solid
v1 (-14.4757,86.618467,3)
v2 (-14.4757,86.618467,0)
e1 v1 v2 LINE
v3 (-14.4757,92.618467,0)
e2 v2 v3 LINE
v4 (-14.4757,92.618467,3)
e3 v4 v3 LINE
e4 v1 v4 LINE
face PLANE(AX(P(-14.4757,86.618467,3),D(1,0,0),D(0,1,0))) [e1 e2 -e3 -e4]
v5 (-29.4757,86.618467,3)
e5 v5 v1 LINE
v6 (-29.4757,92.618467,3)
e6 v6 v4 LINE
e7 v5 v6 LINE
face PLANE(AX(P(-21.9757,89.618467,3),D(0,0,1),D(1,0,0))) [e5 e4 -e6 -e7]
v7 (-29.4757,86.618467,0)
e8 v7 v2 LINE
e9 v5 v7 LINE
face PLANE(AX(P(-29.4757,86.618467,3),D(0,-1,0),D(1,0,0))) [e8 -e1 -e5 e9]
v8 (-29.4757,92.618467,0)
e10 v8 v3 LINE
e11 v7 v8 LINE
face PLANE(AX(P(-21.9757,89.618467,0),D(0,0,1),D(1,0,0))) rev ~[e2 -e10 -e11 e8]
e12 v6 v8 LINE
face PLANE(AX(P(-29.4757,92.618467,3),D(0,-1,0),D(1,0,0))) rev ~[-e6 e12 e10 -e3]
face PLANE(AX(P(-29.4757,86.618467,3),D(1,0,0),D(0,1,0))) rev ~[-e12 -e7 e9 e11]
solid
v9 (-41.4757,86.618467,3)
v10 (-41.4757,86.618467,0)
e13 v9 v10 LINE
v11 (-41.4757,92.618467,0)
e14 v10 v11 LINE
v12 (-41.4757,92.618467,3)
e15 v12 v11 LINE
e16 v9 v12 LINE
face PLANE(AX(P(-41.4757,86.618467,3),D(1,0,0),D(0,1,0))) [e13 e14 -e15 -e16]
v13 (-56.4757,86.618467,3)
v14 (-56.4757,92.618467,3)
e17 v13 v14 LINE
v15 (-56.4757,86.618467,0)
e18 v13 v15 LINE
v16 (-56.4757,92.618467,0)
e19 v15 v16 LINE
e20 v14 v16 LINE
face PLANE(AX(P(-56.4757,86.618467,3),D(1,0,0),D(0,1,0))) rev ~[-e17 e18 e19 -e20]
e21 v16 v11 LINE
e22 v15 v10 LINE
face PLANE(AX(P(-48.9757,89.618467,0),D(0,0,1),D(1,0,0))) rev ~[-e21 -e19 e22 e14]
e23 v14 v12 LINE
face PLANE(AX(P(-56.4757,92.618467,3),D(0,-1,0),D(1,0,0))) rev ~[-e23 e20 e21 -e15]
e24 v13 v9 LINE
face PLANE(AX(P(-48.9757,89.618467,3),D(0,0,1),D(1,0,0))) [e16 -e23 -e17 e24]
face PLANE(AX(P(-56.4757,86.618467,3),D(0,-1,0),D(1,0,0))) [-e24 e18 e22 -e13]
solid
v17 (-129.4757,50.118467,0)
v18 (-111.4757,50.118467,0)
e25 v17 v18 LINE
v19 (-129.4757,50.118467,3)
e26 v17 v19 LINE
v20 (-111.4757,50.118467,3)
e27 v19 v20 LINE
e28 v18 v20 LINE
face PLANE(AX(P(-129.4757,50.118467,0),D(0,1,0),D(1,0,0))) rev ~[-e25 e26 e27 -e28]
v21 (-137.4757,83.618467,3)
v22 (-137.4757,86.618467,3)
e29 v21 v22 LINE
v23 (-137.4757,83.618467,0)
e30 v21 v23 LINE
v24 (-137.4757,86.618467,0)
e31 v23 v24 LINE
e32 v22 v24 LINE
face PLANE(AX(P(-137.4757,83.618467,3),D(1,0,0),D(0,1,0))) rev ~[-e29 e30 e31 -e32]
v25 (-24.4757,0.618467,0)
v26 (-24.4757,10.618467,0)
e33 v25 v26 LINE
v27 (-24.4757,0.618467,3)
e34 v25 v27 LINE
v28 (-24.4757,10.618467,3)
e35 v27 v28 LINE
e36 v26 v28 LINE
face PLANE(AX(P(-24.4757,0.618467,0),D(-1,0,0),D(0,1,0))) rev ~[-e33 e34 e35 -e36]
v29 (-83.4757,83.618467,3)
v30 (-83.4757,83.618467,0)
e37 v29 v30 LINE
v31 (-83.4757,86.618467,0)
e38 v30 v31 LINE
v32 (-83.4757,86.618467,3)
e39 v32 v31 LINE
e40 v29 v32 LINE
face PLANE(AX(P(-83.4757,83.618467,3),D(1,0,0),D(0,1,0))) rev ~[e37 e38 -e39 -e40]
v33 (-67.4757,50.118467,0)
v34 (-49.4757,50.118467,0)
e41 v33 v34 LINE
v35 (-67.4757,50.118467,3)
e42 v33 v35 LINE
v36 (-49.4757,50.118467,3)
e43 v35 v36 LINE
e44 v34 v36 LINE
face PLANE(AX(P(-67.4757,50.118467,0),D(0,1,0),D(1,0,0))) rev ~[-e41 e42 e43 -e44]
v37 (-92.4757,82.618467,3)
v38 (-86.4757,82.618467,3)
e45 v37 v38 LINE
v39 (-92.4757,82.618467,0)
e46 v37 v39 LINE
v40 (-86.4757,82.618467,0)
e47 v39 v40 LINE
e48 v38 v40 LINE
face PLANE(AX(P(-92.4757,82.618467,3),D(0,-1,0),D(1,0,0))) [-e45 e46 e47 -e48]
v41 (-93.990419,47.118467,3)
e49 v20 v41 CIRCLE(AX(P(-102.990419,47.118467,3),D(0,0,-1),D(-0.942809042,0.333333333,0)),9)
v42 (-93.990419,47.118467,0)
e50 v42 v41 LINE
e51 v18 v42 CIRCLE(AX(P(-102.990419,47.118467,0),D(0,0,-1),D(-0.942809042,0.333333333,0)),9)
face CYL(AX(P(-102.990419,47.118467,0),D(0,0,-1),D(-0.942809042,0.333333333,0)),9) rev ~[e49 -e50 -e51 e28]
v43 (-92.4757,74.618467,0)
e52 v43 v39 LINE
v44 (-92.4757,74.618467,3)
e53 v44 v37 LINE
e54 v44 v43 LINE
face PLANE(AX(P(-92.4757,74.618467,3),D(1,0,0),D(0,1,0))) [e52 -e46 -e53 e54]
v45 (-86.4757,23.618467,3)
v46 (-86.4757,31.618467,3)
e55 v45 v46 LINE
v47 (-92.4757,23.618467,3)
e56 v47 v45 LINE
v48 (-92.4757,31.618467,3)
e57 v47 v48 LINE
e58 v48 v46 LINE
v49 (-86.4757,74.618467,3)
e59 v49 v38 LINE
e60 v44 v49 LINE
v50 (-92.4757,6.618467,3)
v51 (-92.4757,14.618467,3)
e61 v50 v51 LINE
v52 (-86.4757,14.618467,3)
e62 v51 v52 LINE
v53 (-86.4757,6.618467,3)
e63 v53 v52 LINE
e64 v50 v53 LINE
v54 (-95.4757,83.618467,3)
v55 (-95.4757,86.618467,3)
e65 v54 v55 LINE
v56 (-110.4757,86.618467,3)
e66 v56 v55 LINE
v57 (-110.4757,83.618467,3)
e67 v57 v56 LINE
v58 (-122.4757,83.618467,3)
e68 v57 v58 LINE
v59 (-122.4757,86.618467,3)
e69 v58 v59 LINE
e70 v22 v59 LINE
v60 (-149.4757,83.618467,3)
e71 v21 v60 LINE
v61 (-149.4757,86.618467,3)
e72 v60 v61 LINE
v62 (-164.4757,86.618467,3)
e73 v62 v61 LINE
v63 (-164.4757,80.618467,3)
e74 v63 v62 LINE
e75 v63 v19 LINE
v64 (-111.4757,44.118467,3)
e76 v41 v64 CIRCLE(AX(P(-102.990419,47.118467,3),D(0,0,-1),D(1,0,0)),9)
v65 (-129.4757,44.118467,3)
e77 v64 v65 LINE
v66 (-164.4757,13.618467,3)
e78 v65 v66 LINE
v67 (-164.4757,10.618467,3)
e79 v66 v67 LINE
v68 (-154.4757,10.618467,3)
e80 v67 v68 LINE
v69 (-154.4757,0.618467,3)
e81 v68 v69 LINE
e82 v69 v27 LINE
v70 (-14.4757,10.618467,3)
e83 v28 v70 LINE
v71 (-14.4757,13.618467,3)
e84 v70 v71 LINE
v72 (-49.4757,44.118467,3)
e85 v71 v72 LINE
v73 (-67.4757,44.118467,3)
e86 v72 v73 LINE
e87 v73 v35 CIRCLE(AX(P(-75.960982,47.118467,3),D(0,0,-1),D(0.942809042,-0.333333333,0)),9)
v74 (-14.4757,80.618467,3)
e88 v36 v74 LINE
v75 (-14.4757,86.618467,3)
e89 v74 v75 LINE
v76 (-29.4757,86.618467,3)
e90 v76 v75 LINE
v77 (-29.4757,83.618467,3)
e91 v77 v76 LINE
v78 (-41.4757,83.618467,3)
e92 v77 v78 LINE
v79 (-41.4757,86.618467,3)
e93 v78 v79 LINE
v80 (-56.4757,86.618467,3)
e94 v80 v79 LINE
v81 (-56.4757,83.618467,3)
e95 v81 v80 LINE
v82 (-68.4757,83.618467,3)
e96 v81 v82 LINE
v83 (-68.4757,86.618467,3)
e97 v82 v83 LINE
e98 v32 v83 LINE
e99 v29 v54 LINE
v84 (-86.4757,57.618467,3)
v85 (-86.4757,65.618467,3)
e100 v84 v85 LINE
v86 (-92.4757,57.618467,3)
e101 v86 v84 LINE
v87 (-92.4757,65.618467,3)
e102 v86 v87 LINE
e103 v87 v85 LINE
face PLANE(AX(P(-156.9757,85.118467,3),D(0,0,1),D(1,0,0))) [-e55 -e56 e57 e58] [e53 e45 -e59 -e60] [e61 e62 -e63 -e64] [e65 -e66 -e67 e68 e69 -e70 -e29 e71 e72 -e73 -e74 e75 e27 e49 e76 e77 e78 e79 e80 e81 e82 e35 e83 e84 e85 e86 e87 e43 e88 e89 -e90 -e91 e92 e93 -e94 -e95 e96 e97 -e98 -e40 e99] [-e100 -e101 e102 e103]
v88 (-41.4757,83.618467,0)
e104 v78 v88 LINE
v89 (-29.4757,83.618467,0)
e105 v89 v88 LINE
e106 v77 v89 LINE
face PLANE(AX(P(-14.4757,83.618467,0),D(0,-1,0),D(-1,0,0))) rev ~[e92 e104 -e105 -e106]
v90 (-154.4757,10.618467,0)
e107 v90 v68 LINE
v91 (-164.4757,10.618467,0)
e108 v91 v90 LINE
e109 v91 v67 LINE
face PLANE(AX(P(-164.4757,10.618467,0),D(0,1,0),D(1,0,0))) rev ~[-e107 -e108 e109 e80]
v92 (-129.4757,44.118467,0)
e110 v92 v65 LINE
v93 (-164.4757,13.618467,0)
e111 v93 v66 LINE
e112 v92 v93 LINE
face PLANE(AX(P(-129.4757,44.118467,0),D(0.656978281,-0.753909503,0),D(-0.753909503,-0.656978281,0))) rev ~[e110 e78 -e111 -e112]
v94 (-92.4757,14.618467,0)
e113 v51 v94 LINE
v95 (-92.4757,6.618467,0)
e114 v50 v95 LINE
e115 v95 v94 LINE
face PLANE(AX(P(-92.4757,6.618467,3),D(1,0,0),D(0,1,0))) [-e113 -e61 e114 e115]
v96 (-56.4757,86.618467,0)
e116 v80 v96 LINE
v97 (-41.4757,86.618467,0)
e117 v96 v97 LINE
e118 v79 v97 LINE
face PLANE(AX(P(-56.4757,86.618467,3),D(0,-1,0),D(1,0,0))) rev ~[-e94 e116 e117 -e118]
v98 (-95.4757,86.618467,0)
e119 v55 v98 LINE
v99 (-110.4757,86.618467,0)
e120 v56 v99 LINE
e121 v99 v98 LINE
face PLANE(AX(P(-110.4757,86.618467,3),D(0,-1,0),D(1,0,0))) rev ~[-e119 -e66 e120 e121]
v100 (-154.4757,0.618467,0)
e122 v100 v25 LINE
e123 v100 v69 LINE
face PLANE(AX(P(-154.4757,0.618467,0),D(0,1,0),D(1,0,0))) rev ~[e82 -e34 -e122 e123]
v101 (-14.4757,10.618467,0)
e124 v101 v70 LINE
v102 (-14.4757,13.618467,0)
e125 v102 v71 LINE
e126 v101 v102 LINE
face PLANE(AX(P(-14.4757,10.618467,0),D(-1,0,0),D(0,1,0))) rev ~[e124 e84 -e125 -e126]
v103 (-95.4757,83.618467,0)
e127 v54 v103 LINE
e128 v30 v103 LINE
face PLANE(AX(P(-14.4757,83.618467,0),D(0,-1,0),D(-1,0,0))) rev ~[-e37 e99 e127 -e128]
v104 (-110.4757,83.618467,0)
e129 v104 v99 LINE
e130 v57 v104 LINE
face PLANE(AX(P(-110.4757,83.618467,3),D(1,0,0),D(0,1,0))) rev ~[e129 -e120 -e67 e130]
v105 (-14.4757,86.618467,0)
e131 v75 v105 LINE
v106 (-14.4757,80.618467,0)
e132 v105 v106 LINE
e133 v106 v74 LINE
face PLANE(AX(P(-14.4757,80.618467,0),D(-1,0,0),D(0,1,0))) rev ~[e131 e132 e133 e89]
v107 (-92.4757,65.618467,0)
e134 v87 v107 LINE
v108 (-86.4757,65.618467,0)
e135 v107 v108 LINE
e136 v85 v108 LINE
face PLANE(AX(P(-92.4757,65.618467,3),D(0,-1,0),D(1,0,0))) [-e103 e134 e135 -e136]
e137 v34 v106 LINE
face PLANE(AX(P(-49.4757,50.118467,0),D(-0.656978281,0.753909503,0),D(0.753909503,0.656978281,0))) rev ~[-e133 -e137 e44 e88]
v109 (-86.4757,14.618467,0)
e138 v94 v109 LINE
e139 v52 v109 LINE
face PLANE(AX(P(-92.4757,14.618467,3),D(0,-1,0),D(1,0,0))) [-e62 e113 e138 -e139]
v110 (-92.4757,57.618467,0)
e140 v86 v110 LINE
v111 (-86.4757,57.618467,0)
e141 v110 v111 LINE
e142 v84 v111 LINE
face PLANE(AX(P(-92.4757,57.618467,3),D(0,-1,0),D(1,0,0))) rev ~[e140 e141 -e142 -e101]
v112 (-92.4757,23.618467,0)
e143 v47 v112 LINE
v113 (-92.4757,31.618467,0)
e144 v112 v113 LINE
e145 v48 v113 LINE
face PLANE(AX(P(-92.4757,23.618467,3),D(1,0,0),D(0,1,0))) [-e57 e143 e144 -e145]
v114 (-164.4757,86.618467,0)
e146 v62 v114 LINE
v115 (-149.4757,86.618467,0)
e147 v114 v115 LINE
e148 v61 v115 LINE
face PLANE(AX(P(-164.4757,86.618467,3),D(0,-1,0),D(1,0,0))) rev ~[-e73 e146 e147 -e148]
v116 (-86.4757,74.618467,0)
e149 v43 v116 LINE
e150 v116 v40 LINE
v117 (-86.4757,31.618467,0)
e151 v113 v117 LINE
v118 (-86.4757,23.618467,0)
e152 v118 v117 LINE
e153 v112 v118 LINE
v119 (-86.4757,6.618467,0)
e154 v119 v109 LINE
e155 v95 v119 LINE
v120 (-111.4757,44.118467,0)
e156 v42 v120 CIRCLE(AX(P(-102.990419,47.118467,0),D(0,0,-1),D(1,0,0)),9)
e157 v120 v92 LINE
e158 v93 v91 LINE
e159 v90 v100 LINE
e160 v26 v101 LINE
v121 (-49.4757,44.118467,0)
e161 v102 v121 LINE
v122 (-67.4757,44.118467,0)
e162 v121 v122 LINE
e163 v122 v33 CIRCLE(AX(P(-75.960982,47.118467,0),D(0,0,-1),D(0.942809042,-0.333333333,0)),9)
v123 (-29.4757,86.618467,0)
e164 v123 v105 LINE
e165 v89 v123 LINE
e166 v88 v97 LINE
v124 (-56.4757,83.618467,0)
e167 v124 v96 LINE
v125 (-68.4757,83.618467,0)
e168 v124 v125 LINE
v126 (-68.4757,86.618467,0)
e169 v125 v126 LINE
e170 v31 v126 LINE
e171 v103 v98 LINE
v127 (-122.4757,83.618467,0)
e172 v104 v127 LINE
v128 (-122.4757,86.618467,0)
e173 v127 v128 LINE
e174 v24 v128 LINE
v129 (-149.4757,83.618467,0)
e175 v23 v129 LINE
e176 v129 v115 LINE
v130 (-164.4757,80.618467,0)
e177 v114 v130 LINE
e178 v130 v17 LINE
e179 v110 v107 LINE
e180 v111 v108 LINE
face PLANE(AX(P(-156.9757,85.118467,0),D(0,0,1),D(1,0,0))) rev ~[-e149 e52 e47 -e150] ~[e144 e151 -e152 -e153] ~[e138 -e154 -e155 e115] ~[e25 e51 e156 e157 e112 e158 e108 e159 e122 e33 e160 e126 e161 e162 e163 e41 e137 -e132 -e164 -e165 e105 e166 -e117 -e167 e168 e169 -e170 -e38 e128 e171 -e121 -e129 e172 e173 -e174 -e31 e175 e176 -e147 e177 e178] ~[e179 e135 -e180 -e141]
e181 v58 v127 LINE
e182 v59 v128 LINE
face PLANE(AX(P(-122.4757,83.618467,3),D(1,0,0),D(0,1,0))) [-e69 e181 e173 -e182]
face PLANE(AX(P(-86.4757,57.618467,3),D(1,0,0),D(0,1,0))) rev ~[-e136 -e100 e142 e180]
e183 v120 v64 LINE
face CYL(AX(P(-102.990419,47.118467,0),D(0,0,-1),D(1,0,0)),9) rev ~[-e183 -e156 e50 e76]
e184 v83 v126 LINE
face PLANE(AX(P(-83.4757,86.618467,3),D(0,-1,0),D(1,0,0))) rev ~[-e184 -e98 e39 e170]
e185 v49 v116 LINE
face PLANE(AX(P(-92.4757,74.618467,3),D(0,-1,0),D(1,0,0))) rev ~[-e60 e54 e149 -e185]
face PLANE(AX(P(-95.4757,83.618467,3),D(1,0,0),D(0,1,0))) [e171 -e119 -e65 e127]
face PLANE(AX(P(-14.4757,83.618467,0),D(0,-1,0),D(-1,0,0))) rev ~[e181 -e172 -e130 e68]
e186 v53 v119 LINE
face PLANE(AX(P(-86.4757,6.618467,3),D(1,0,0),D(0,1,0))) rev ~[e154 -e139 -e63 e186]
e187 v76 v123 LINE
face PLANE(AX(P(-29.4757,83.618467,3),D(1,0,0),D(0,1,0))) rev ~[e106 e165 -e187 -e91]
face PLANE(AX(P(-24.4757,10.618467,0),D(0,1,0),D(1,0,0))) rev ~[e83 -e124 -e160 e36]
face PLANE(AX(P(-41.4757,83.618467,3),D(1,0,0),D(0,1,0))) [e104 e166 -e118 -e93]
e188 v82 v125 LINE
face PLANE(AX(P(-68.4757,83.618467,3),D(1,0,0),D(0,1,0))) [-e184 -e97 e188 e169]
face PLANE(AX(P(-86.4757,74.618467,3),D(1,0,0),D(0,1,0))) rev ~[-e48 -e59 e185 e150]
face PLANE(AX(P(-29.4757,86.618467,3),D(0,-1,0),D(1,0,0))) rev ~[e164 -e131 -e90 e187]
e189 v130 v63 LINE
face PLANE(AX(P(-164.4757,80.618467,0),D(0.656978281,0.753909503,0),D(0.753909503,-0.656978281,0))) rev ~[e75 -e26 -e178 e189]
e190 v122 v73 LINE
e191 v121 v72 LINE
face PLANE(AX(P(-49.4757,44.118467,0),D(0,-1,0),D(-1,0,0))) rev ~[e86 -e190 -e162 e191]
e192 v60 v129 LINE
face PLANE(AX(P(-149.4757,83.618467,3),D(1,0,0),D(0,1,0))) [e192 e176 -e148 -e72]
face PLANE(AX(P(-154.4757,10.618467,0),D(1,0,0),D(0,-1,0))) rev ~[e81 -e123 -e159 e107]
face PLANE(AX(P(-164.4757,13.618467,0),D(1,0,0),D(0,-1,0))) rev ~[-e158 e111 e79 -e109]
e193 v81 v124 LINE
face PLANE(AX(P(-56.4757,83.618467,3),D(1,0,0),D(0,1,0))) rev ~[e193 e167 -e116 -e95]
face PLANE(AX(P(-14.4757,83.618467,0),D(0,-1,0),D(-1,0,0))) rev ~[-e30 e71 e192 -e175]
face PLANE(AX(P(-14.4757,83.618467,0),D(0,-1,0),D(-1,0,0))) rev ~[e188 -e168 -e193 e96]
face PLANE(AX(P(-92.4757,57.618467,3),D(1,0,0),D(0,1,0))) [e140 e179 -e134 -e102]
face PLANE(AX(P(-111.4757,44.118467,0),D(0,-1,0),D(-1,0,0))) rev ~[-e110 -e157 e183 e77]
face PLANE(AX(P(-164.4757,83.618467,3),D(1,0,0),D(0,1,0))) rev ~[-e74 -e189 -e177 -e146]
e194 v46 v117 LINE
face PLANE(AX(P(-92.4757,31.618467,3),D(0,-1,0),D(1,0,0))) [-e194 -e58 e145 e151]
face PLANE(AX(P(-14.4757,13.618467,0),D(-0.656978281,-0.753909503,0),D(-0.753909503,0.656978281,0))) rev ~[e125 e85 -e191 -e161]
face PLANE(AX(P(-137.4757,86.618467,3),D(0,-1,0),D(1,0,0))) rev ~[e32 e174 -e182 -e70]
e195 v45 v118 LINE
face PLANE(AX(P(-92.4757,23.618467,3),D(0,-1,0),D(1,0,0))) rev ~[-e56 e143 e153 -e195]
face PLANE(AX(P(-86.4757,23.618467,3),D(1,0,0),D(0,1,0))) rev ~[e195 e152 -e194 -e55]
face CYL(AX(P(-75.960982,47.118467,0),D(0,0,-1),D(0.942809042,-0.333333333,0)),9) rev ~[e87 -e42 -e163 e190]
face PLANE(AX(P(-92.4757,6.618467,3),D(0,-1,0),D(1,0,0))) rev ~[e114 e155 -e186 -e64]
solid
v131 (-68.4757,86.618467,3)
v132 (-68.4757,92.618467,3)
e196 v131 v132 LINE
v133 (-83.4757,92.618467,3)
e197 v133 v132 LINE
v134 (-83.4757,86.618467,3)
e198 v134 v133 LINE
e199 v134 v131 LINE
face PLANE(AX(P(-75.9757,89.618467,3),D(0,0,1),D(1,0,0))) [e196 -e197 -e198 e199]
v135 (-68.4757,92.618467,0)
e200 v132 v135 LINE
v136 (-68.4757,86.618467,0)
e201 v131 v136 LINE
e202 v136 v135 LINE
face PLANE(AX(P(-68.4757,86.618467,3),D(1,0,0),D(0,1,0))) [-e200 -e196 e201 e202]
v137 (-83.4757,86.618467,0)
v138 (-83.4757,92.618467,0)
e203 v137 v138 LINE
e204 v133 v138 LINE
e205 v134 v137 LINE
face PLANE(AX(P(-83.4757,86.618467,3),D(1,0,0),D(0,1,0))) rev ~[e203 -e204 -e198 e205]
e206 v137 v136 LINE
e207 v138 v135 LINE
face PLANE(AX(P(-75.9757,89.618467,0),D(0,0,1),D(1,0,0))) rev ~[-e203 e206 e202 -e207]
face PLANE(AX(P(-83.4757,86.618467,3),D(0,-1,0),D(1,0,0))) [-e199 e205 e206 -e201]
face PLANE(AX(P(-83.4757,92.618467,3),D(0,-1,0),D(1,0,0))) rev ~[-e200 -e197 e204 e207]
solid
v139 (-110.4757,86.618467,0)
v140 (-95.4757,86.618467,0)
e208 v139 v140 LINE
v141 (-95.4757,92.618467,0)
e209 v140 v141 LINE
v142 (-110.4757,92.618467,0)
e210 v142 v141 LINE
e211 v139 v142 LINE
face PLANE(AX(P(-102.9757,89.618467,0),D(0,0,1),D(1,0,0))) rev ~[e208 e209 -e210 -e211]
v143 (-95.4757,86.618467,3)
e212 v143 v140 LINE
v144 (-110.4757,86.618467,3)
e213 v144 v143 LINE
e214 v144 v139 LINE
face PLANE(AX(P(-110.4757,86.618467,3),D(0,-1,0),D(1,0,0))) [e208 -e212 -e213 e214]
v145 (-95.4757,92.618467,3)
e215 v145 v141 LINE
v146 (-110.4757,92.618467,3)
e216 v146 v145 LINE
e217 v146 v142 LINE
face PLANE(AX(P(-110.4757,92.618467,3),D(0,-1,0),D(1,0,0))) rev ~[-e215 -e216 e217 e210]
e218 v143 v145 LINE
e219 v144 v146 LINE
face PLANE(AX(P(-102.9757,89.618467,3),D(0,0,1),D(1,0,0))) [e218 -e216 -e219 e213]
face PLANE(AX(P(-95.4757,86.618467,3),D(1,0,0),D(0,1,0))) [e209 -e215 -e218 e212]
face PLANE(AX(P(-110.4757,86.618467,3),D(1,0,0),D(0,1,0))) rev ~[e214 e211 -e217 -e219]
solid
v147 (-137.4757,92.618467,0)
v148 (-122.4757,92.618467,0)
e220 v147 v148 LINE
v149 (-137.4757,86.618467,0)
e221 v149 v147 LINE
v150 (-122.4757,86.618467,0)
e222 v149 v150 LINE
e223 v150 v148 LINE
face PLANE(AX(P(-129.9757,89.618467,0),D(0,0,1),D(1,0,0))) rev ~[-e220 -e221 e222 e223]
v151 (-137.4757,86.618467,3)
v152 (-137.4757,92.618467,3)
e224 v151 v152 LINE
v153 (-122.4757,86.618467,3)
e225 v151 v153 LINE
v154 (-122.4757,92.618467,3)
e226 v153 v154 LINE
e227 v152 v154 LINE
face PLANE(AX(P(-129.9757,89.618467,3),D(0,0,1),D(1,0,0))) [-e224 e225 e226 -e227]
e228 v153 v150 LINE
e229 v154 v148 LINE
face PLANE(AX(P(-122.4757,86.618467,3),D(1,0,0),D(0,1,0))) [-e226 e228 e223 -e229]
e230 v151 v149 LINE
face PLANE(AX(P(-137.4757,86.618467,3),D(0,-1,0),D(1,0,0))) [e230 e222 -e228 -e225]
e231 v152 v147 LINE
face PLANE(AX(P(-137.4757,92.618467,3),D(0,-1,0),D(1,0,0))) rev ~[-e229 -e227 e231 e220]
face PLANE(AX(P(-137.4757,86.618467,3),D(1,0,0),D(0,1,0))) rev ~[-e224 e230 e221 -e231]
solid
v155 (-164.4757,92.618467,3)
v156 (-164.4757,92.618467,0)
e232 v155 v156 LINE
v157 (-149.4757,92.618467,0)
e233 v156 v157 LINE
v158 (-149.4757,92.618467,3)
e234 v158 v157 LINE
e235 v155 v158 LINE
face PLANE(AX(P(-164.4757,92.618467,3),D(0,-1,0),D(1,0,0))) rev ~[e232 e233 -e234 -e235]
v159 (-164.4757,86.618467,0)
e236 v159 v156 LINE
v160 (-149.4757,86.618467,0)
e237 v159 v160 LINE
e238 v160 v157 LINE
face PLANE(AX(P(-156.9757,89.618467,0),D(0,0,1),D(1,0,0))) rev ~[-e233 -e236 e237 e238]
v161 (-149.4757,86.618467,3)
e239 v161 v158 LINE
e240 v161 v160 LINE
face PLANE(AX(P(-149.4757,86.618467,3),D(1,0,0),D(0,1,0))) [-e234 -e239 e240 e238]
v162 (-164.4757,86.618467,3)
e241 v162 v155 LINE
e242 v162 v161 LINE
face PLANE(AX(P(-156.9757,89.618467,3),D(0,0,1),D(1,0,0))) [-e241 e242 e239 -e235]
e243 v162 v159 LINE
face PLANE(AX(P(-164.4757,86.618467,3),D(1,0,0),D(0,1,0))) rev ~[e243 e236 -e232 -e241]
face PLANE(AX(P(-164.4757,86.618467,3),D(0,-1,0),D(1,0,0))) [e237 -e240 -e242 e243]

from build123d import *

# Parameters (mm, degrees)
BOSS_EXTRU_1_DEPTH      = 3
ESQUISSE2_W             = 15
ESQUISSE2_H             = 3
BOSS_EXTRU_2_DEPTH      = 3
ESQUISSE3_W             = 15
ESQUISSE3_H             = 6
BOSS_EXTRU_3_DEPTH      = 3
BOSS_EXTRU_3_2_DEPTH    = 3
BOSS_EXTRU_3_3_DEPTH    = 3
BOSS_EXTRU_3_4_DEPTH    = 3
BOSS_EXTRU_3_5_DEPTH    = 3
BOSS_EXTRU_3_6_DEPTH    = 3
ESQUISSE4_W             = 6
ESQUISSE4_H             = 8
ENL_V_MAT_EXTRU_1_DEPTH = 3


with BuildPart() as part:
    # Esquisse1 → Boss.-Extru.1 (new body)
    with BuildSketch(Plane.XY):
        with BuildLine():
            Line((-164.475700203, 83.618467297), (-164.475700203, 80.618467297))
            Line((-164.475700203, 80.618467297), (-129.475700203, 50.118467297))
            Line((-129.475700203, 50.118467297), (-111.475700203, 50.118467297))
            ThreePointArc((-111.475700203, 50.118467297), (-101.468501021, 55.988854334), (-93.990418829, 47.118467297))
            ThreePointArc((-93.990418829, 47.118467297), (-101.468501021, 38.24808026), (-111.475700203, 44.118467297))
            Line((-111.475700203, 44.118467297), (-129.475700203, 44.118467297))
            Line((-129.475700203, 44.118467297), (-164.475700203, 13.618467297))
            Line((-164.475700203, 13.618467297), (-164.475700203, 10.618467297))
            Line((-164.475700203, 10.618467297), (-154.475700203, 10.618467297))
            Line((-154.475700203, 10.618467297), (-154.475700203, 0.618467297))
            Line((-154.475700203, 0.618467297), (-24.475700203, 0.618467297))
            Line((-24.475700203, 0.618467297), (-24.475700203, 10.618467297))
            Line((-24.475700203, 10.618467297), (-14.475700203, 10.618467297))
            Line((-14.475700203, 10.618467297), (-14.475700203, 13.618467297))
            Line((-14.475700203, 13.618467297), (-49.475700203, 44.118467297))
            Line((-49.475700203, 44.118467297), (-67.475700203, 44.118467297))
            ThreePointArc((-67.475700203, 44.118467297), (-84.960981578, 47.118467297), (-67.475700203, 50.118467297))
            Line((-67.475700203, 50.118467297), (-49.475700203, 50.118467297))
            Line((-49.475700203, 50.118467297), (-14.475700203, 80.618467297))
            Line((-14.475700203, 80.618467297), (-14.475700203, 83.618467297))
            Line((-14.475700203, 83.618467297), (-164.475700203, 83.618467297))
        make_face()
    extrude(amount=BOSS_EXTRU_1_DEPTH)

    # Esquisse2 → Boss.-Extru.2 (add)
    with BuildSketch(Plane.XY.offset(3)):
        with Locations((-156.975700203, 85.118467297)):
            Rectangle(ESQUISSE2_W, ESQUISSE2_H)
        with Locations((-129.975700203, 85.118467297)):
            Rectangle(ESQUISSE2_W, ESQUISSE2_H)
        with Locations((-102.975700203, 85.118467297)):
            Rectangle(ESQUISSE2_W, ESQUISSE2_H)
        with Locations((-75.975700203, 85.118467297)):
            Rectangle(ESQUISSE2_W, ESQUISSE2_H)
        with Locations((-48.975700203, 85.118467297)):
            Rectangle(ESQUISSE2_W, ESQUISSE2_H)
        with Locations((-21.975700203, 85.118467297)):
            Rectangle(ESQUISSE2_W, ESQUISSE2_H)
    extrude(amount=-BOSS_EXTRU_2_DEPTH)

    # Esquisse4 → Enlèv. mat.-Extru.1 (cut)
    with BuildSketch(Plane.XY.offset(3)):
        with Locations((-89.475700203, 78.618467297)):
            Rectangle(ESQUISSE4_W, ESQUISSE4_H)
        with Locations((-89.475700203, 61.618467297)):
            Rectangle(ESQUISSE4_W, ESQUISSE4_H)
        with Locations((-89.475700203, 27.618467297)):
            Rectangle(ESQUISSE4_W, ESQUISSE4_H)
        with Locations((-89.475700203, 10.618467297)):
            Rectangle(ESQUISSE4_W, ESQUISSE4_H)
    extrude(amount=-ENL_V_MAT_EXTRU_1_DEPTH, mode=Mode.SUBTRACT)


with BuildPart() as body_2:
    # Esquisse3 → Boss.-Extru.3 (new body)
    with BuildSketch(Plane.XY.offset(3)):
        with Locations((-156.975700203, 89.618467297)):
            Rectangle(ESQUISSE3_W, ESQUISSE3_H)
    extrude(amount=-BOSS_EXTRU_3_DEPTH)


with BuildPart() as body_3:
    # Esquisse3 → Boss.-Extru.3 2 (new body)
    with BuildSketch(Plane.XY.offset(3)):
        with Locations((-129.975700203, 89.618467297)):
            Rectangle(ESQUISSE3_W, ESQUISSE3_H)
    extrude(amount=-BOSS_EXTRU_3_2_DEPTH)


with BuildPart() as body_4:
    # Esquisse3 → Boss.-Extru.3 3 (new body)
    with BuildSketch(Plane.XY.offset(3)):
        with Locations((-102.975700203, 89.618467297)):
            Rectangle(ESQUISSE3_W, ESQUISSE3_H)
    extrude(amount=-BOSS_EXTRU_3_3_DEPTH)


with BuildPart() as body_5:
    # Esquisse3 → Boss.-Extru.3 4 (new body)
    with BuildSketch(Plane.XY.offset(3)):
        with Locations((-75.975700203, 89.618467297)):
            Rectangle(ESQUISSE3_W, ESQUISSE3_H)
    extrude(amount=-BOSS_EXTRU_3_4_DEPTH)


with BuildPart() as body_6:
    # Esquisse3 → Boss.-Extru.3 5 (new body)
    with BuildSketch(Plane.XY.offset(3)):
        with Locations((-48.975700203, 89.618467297)):
            Rectangle(ESQUISSE3_W, ESQUISSE3_H)
    extrude(amount=-BOSS_EXTRU_3_5_DEPTH)


with BuildPart() as body_7:
    # Esquisse3 → Boss.-Extru.3 6 (new body)
    with BuildSketch(Plane.XY.offset(3)):
        with Locations((-21.975700203, 89.618467297)):
            Rectangle(ESQUISSE3_W, ESQUISSE3_H)
    extrude(amount=-BOSS_EXTRU_3_6_DEPTH)


solid = Compound([part.part, body_2.part, body_3.part, body_4.part, body_5.part, body_6.part, body_7.part])
